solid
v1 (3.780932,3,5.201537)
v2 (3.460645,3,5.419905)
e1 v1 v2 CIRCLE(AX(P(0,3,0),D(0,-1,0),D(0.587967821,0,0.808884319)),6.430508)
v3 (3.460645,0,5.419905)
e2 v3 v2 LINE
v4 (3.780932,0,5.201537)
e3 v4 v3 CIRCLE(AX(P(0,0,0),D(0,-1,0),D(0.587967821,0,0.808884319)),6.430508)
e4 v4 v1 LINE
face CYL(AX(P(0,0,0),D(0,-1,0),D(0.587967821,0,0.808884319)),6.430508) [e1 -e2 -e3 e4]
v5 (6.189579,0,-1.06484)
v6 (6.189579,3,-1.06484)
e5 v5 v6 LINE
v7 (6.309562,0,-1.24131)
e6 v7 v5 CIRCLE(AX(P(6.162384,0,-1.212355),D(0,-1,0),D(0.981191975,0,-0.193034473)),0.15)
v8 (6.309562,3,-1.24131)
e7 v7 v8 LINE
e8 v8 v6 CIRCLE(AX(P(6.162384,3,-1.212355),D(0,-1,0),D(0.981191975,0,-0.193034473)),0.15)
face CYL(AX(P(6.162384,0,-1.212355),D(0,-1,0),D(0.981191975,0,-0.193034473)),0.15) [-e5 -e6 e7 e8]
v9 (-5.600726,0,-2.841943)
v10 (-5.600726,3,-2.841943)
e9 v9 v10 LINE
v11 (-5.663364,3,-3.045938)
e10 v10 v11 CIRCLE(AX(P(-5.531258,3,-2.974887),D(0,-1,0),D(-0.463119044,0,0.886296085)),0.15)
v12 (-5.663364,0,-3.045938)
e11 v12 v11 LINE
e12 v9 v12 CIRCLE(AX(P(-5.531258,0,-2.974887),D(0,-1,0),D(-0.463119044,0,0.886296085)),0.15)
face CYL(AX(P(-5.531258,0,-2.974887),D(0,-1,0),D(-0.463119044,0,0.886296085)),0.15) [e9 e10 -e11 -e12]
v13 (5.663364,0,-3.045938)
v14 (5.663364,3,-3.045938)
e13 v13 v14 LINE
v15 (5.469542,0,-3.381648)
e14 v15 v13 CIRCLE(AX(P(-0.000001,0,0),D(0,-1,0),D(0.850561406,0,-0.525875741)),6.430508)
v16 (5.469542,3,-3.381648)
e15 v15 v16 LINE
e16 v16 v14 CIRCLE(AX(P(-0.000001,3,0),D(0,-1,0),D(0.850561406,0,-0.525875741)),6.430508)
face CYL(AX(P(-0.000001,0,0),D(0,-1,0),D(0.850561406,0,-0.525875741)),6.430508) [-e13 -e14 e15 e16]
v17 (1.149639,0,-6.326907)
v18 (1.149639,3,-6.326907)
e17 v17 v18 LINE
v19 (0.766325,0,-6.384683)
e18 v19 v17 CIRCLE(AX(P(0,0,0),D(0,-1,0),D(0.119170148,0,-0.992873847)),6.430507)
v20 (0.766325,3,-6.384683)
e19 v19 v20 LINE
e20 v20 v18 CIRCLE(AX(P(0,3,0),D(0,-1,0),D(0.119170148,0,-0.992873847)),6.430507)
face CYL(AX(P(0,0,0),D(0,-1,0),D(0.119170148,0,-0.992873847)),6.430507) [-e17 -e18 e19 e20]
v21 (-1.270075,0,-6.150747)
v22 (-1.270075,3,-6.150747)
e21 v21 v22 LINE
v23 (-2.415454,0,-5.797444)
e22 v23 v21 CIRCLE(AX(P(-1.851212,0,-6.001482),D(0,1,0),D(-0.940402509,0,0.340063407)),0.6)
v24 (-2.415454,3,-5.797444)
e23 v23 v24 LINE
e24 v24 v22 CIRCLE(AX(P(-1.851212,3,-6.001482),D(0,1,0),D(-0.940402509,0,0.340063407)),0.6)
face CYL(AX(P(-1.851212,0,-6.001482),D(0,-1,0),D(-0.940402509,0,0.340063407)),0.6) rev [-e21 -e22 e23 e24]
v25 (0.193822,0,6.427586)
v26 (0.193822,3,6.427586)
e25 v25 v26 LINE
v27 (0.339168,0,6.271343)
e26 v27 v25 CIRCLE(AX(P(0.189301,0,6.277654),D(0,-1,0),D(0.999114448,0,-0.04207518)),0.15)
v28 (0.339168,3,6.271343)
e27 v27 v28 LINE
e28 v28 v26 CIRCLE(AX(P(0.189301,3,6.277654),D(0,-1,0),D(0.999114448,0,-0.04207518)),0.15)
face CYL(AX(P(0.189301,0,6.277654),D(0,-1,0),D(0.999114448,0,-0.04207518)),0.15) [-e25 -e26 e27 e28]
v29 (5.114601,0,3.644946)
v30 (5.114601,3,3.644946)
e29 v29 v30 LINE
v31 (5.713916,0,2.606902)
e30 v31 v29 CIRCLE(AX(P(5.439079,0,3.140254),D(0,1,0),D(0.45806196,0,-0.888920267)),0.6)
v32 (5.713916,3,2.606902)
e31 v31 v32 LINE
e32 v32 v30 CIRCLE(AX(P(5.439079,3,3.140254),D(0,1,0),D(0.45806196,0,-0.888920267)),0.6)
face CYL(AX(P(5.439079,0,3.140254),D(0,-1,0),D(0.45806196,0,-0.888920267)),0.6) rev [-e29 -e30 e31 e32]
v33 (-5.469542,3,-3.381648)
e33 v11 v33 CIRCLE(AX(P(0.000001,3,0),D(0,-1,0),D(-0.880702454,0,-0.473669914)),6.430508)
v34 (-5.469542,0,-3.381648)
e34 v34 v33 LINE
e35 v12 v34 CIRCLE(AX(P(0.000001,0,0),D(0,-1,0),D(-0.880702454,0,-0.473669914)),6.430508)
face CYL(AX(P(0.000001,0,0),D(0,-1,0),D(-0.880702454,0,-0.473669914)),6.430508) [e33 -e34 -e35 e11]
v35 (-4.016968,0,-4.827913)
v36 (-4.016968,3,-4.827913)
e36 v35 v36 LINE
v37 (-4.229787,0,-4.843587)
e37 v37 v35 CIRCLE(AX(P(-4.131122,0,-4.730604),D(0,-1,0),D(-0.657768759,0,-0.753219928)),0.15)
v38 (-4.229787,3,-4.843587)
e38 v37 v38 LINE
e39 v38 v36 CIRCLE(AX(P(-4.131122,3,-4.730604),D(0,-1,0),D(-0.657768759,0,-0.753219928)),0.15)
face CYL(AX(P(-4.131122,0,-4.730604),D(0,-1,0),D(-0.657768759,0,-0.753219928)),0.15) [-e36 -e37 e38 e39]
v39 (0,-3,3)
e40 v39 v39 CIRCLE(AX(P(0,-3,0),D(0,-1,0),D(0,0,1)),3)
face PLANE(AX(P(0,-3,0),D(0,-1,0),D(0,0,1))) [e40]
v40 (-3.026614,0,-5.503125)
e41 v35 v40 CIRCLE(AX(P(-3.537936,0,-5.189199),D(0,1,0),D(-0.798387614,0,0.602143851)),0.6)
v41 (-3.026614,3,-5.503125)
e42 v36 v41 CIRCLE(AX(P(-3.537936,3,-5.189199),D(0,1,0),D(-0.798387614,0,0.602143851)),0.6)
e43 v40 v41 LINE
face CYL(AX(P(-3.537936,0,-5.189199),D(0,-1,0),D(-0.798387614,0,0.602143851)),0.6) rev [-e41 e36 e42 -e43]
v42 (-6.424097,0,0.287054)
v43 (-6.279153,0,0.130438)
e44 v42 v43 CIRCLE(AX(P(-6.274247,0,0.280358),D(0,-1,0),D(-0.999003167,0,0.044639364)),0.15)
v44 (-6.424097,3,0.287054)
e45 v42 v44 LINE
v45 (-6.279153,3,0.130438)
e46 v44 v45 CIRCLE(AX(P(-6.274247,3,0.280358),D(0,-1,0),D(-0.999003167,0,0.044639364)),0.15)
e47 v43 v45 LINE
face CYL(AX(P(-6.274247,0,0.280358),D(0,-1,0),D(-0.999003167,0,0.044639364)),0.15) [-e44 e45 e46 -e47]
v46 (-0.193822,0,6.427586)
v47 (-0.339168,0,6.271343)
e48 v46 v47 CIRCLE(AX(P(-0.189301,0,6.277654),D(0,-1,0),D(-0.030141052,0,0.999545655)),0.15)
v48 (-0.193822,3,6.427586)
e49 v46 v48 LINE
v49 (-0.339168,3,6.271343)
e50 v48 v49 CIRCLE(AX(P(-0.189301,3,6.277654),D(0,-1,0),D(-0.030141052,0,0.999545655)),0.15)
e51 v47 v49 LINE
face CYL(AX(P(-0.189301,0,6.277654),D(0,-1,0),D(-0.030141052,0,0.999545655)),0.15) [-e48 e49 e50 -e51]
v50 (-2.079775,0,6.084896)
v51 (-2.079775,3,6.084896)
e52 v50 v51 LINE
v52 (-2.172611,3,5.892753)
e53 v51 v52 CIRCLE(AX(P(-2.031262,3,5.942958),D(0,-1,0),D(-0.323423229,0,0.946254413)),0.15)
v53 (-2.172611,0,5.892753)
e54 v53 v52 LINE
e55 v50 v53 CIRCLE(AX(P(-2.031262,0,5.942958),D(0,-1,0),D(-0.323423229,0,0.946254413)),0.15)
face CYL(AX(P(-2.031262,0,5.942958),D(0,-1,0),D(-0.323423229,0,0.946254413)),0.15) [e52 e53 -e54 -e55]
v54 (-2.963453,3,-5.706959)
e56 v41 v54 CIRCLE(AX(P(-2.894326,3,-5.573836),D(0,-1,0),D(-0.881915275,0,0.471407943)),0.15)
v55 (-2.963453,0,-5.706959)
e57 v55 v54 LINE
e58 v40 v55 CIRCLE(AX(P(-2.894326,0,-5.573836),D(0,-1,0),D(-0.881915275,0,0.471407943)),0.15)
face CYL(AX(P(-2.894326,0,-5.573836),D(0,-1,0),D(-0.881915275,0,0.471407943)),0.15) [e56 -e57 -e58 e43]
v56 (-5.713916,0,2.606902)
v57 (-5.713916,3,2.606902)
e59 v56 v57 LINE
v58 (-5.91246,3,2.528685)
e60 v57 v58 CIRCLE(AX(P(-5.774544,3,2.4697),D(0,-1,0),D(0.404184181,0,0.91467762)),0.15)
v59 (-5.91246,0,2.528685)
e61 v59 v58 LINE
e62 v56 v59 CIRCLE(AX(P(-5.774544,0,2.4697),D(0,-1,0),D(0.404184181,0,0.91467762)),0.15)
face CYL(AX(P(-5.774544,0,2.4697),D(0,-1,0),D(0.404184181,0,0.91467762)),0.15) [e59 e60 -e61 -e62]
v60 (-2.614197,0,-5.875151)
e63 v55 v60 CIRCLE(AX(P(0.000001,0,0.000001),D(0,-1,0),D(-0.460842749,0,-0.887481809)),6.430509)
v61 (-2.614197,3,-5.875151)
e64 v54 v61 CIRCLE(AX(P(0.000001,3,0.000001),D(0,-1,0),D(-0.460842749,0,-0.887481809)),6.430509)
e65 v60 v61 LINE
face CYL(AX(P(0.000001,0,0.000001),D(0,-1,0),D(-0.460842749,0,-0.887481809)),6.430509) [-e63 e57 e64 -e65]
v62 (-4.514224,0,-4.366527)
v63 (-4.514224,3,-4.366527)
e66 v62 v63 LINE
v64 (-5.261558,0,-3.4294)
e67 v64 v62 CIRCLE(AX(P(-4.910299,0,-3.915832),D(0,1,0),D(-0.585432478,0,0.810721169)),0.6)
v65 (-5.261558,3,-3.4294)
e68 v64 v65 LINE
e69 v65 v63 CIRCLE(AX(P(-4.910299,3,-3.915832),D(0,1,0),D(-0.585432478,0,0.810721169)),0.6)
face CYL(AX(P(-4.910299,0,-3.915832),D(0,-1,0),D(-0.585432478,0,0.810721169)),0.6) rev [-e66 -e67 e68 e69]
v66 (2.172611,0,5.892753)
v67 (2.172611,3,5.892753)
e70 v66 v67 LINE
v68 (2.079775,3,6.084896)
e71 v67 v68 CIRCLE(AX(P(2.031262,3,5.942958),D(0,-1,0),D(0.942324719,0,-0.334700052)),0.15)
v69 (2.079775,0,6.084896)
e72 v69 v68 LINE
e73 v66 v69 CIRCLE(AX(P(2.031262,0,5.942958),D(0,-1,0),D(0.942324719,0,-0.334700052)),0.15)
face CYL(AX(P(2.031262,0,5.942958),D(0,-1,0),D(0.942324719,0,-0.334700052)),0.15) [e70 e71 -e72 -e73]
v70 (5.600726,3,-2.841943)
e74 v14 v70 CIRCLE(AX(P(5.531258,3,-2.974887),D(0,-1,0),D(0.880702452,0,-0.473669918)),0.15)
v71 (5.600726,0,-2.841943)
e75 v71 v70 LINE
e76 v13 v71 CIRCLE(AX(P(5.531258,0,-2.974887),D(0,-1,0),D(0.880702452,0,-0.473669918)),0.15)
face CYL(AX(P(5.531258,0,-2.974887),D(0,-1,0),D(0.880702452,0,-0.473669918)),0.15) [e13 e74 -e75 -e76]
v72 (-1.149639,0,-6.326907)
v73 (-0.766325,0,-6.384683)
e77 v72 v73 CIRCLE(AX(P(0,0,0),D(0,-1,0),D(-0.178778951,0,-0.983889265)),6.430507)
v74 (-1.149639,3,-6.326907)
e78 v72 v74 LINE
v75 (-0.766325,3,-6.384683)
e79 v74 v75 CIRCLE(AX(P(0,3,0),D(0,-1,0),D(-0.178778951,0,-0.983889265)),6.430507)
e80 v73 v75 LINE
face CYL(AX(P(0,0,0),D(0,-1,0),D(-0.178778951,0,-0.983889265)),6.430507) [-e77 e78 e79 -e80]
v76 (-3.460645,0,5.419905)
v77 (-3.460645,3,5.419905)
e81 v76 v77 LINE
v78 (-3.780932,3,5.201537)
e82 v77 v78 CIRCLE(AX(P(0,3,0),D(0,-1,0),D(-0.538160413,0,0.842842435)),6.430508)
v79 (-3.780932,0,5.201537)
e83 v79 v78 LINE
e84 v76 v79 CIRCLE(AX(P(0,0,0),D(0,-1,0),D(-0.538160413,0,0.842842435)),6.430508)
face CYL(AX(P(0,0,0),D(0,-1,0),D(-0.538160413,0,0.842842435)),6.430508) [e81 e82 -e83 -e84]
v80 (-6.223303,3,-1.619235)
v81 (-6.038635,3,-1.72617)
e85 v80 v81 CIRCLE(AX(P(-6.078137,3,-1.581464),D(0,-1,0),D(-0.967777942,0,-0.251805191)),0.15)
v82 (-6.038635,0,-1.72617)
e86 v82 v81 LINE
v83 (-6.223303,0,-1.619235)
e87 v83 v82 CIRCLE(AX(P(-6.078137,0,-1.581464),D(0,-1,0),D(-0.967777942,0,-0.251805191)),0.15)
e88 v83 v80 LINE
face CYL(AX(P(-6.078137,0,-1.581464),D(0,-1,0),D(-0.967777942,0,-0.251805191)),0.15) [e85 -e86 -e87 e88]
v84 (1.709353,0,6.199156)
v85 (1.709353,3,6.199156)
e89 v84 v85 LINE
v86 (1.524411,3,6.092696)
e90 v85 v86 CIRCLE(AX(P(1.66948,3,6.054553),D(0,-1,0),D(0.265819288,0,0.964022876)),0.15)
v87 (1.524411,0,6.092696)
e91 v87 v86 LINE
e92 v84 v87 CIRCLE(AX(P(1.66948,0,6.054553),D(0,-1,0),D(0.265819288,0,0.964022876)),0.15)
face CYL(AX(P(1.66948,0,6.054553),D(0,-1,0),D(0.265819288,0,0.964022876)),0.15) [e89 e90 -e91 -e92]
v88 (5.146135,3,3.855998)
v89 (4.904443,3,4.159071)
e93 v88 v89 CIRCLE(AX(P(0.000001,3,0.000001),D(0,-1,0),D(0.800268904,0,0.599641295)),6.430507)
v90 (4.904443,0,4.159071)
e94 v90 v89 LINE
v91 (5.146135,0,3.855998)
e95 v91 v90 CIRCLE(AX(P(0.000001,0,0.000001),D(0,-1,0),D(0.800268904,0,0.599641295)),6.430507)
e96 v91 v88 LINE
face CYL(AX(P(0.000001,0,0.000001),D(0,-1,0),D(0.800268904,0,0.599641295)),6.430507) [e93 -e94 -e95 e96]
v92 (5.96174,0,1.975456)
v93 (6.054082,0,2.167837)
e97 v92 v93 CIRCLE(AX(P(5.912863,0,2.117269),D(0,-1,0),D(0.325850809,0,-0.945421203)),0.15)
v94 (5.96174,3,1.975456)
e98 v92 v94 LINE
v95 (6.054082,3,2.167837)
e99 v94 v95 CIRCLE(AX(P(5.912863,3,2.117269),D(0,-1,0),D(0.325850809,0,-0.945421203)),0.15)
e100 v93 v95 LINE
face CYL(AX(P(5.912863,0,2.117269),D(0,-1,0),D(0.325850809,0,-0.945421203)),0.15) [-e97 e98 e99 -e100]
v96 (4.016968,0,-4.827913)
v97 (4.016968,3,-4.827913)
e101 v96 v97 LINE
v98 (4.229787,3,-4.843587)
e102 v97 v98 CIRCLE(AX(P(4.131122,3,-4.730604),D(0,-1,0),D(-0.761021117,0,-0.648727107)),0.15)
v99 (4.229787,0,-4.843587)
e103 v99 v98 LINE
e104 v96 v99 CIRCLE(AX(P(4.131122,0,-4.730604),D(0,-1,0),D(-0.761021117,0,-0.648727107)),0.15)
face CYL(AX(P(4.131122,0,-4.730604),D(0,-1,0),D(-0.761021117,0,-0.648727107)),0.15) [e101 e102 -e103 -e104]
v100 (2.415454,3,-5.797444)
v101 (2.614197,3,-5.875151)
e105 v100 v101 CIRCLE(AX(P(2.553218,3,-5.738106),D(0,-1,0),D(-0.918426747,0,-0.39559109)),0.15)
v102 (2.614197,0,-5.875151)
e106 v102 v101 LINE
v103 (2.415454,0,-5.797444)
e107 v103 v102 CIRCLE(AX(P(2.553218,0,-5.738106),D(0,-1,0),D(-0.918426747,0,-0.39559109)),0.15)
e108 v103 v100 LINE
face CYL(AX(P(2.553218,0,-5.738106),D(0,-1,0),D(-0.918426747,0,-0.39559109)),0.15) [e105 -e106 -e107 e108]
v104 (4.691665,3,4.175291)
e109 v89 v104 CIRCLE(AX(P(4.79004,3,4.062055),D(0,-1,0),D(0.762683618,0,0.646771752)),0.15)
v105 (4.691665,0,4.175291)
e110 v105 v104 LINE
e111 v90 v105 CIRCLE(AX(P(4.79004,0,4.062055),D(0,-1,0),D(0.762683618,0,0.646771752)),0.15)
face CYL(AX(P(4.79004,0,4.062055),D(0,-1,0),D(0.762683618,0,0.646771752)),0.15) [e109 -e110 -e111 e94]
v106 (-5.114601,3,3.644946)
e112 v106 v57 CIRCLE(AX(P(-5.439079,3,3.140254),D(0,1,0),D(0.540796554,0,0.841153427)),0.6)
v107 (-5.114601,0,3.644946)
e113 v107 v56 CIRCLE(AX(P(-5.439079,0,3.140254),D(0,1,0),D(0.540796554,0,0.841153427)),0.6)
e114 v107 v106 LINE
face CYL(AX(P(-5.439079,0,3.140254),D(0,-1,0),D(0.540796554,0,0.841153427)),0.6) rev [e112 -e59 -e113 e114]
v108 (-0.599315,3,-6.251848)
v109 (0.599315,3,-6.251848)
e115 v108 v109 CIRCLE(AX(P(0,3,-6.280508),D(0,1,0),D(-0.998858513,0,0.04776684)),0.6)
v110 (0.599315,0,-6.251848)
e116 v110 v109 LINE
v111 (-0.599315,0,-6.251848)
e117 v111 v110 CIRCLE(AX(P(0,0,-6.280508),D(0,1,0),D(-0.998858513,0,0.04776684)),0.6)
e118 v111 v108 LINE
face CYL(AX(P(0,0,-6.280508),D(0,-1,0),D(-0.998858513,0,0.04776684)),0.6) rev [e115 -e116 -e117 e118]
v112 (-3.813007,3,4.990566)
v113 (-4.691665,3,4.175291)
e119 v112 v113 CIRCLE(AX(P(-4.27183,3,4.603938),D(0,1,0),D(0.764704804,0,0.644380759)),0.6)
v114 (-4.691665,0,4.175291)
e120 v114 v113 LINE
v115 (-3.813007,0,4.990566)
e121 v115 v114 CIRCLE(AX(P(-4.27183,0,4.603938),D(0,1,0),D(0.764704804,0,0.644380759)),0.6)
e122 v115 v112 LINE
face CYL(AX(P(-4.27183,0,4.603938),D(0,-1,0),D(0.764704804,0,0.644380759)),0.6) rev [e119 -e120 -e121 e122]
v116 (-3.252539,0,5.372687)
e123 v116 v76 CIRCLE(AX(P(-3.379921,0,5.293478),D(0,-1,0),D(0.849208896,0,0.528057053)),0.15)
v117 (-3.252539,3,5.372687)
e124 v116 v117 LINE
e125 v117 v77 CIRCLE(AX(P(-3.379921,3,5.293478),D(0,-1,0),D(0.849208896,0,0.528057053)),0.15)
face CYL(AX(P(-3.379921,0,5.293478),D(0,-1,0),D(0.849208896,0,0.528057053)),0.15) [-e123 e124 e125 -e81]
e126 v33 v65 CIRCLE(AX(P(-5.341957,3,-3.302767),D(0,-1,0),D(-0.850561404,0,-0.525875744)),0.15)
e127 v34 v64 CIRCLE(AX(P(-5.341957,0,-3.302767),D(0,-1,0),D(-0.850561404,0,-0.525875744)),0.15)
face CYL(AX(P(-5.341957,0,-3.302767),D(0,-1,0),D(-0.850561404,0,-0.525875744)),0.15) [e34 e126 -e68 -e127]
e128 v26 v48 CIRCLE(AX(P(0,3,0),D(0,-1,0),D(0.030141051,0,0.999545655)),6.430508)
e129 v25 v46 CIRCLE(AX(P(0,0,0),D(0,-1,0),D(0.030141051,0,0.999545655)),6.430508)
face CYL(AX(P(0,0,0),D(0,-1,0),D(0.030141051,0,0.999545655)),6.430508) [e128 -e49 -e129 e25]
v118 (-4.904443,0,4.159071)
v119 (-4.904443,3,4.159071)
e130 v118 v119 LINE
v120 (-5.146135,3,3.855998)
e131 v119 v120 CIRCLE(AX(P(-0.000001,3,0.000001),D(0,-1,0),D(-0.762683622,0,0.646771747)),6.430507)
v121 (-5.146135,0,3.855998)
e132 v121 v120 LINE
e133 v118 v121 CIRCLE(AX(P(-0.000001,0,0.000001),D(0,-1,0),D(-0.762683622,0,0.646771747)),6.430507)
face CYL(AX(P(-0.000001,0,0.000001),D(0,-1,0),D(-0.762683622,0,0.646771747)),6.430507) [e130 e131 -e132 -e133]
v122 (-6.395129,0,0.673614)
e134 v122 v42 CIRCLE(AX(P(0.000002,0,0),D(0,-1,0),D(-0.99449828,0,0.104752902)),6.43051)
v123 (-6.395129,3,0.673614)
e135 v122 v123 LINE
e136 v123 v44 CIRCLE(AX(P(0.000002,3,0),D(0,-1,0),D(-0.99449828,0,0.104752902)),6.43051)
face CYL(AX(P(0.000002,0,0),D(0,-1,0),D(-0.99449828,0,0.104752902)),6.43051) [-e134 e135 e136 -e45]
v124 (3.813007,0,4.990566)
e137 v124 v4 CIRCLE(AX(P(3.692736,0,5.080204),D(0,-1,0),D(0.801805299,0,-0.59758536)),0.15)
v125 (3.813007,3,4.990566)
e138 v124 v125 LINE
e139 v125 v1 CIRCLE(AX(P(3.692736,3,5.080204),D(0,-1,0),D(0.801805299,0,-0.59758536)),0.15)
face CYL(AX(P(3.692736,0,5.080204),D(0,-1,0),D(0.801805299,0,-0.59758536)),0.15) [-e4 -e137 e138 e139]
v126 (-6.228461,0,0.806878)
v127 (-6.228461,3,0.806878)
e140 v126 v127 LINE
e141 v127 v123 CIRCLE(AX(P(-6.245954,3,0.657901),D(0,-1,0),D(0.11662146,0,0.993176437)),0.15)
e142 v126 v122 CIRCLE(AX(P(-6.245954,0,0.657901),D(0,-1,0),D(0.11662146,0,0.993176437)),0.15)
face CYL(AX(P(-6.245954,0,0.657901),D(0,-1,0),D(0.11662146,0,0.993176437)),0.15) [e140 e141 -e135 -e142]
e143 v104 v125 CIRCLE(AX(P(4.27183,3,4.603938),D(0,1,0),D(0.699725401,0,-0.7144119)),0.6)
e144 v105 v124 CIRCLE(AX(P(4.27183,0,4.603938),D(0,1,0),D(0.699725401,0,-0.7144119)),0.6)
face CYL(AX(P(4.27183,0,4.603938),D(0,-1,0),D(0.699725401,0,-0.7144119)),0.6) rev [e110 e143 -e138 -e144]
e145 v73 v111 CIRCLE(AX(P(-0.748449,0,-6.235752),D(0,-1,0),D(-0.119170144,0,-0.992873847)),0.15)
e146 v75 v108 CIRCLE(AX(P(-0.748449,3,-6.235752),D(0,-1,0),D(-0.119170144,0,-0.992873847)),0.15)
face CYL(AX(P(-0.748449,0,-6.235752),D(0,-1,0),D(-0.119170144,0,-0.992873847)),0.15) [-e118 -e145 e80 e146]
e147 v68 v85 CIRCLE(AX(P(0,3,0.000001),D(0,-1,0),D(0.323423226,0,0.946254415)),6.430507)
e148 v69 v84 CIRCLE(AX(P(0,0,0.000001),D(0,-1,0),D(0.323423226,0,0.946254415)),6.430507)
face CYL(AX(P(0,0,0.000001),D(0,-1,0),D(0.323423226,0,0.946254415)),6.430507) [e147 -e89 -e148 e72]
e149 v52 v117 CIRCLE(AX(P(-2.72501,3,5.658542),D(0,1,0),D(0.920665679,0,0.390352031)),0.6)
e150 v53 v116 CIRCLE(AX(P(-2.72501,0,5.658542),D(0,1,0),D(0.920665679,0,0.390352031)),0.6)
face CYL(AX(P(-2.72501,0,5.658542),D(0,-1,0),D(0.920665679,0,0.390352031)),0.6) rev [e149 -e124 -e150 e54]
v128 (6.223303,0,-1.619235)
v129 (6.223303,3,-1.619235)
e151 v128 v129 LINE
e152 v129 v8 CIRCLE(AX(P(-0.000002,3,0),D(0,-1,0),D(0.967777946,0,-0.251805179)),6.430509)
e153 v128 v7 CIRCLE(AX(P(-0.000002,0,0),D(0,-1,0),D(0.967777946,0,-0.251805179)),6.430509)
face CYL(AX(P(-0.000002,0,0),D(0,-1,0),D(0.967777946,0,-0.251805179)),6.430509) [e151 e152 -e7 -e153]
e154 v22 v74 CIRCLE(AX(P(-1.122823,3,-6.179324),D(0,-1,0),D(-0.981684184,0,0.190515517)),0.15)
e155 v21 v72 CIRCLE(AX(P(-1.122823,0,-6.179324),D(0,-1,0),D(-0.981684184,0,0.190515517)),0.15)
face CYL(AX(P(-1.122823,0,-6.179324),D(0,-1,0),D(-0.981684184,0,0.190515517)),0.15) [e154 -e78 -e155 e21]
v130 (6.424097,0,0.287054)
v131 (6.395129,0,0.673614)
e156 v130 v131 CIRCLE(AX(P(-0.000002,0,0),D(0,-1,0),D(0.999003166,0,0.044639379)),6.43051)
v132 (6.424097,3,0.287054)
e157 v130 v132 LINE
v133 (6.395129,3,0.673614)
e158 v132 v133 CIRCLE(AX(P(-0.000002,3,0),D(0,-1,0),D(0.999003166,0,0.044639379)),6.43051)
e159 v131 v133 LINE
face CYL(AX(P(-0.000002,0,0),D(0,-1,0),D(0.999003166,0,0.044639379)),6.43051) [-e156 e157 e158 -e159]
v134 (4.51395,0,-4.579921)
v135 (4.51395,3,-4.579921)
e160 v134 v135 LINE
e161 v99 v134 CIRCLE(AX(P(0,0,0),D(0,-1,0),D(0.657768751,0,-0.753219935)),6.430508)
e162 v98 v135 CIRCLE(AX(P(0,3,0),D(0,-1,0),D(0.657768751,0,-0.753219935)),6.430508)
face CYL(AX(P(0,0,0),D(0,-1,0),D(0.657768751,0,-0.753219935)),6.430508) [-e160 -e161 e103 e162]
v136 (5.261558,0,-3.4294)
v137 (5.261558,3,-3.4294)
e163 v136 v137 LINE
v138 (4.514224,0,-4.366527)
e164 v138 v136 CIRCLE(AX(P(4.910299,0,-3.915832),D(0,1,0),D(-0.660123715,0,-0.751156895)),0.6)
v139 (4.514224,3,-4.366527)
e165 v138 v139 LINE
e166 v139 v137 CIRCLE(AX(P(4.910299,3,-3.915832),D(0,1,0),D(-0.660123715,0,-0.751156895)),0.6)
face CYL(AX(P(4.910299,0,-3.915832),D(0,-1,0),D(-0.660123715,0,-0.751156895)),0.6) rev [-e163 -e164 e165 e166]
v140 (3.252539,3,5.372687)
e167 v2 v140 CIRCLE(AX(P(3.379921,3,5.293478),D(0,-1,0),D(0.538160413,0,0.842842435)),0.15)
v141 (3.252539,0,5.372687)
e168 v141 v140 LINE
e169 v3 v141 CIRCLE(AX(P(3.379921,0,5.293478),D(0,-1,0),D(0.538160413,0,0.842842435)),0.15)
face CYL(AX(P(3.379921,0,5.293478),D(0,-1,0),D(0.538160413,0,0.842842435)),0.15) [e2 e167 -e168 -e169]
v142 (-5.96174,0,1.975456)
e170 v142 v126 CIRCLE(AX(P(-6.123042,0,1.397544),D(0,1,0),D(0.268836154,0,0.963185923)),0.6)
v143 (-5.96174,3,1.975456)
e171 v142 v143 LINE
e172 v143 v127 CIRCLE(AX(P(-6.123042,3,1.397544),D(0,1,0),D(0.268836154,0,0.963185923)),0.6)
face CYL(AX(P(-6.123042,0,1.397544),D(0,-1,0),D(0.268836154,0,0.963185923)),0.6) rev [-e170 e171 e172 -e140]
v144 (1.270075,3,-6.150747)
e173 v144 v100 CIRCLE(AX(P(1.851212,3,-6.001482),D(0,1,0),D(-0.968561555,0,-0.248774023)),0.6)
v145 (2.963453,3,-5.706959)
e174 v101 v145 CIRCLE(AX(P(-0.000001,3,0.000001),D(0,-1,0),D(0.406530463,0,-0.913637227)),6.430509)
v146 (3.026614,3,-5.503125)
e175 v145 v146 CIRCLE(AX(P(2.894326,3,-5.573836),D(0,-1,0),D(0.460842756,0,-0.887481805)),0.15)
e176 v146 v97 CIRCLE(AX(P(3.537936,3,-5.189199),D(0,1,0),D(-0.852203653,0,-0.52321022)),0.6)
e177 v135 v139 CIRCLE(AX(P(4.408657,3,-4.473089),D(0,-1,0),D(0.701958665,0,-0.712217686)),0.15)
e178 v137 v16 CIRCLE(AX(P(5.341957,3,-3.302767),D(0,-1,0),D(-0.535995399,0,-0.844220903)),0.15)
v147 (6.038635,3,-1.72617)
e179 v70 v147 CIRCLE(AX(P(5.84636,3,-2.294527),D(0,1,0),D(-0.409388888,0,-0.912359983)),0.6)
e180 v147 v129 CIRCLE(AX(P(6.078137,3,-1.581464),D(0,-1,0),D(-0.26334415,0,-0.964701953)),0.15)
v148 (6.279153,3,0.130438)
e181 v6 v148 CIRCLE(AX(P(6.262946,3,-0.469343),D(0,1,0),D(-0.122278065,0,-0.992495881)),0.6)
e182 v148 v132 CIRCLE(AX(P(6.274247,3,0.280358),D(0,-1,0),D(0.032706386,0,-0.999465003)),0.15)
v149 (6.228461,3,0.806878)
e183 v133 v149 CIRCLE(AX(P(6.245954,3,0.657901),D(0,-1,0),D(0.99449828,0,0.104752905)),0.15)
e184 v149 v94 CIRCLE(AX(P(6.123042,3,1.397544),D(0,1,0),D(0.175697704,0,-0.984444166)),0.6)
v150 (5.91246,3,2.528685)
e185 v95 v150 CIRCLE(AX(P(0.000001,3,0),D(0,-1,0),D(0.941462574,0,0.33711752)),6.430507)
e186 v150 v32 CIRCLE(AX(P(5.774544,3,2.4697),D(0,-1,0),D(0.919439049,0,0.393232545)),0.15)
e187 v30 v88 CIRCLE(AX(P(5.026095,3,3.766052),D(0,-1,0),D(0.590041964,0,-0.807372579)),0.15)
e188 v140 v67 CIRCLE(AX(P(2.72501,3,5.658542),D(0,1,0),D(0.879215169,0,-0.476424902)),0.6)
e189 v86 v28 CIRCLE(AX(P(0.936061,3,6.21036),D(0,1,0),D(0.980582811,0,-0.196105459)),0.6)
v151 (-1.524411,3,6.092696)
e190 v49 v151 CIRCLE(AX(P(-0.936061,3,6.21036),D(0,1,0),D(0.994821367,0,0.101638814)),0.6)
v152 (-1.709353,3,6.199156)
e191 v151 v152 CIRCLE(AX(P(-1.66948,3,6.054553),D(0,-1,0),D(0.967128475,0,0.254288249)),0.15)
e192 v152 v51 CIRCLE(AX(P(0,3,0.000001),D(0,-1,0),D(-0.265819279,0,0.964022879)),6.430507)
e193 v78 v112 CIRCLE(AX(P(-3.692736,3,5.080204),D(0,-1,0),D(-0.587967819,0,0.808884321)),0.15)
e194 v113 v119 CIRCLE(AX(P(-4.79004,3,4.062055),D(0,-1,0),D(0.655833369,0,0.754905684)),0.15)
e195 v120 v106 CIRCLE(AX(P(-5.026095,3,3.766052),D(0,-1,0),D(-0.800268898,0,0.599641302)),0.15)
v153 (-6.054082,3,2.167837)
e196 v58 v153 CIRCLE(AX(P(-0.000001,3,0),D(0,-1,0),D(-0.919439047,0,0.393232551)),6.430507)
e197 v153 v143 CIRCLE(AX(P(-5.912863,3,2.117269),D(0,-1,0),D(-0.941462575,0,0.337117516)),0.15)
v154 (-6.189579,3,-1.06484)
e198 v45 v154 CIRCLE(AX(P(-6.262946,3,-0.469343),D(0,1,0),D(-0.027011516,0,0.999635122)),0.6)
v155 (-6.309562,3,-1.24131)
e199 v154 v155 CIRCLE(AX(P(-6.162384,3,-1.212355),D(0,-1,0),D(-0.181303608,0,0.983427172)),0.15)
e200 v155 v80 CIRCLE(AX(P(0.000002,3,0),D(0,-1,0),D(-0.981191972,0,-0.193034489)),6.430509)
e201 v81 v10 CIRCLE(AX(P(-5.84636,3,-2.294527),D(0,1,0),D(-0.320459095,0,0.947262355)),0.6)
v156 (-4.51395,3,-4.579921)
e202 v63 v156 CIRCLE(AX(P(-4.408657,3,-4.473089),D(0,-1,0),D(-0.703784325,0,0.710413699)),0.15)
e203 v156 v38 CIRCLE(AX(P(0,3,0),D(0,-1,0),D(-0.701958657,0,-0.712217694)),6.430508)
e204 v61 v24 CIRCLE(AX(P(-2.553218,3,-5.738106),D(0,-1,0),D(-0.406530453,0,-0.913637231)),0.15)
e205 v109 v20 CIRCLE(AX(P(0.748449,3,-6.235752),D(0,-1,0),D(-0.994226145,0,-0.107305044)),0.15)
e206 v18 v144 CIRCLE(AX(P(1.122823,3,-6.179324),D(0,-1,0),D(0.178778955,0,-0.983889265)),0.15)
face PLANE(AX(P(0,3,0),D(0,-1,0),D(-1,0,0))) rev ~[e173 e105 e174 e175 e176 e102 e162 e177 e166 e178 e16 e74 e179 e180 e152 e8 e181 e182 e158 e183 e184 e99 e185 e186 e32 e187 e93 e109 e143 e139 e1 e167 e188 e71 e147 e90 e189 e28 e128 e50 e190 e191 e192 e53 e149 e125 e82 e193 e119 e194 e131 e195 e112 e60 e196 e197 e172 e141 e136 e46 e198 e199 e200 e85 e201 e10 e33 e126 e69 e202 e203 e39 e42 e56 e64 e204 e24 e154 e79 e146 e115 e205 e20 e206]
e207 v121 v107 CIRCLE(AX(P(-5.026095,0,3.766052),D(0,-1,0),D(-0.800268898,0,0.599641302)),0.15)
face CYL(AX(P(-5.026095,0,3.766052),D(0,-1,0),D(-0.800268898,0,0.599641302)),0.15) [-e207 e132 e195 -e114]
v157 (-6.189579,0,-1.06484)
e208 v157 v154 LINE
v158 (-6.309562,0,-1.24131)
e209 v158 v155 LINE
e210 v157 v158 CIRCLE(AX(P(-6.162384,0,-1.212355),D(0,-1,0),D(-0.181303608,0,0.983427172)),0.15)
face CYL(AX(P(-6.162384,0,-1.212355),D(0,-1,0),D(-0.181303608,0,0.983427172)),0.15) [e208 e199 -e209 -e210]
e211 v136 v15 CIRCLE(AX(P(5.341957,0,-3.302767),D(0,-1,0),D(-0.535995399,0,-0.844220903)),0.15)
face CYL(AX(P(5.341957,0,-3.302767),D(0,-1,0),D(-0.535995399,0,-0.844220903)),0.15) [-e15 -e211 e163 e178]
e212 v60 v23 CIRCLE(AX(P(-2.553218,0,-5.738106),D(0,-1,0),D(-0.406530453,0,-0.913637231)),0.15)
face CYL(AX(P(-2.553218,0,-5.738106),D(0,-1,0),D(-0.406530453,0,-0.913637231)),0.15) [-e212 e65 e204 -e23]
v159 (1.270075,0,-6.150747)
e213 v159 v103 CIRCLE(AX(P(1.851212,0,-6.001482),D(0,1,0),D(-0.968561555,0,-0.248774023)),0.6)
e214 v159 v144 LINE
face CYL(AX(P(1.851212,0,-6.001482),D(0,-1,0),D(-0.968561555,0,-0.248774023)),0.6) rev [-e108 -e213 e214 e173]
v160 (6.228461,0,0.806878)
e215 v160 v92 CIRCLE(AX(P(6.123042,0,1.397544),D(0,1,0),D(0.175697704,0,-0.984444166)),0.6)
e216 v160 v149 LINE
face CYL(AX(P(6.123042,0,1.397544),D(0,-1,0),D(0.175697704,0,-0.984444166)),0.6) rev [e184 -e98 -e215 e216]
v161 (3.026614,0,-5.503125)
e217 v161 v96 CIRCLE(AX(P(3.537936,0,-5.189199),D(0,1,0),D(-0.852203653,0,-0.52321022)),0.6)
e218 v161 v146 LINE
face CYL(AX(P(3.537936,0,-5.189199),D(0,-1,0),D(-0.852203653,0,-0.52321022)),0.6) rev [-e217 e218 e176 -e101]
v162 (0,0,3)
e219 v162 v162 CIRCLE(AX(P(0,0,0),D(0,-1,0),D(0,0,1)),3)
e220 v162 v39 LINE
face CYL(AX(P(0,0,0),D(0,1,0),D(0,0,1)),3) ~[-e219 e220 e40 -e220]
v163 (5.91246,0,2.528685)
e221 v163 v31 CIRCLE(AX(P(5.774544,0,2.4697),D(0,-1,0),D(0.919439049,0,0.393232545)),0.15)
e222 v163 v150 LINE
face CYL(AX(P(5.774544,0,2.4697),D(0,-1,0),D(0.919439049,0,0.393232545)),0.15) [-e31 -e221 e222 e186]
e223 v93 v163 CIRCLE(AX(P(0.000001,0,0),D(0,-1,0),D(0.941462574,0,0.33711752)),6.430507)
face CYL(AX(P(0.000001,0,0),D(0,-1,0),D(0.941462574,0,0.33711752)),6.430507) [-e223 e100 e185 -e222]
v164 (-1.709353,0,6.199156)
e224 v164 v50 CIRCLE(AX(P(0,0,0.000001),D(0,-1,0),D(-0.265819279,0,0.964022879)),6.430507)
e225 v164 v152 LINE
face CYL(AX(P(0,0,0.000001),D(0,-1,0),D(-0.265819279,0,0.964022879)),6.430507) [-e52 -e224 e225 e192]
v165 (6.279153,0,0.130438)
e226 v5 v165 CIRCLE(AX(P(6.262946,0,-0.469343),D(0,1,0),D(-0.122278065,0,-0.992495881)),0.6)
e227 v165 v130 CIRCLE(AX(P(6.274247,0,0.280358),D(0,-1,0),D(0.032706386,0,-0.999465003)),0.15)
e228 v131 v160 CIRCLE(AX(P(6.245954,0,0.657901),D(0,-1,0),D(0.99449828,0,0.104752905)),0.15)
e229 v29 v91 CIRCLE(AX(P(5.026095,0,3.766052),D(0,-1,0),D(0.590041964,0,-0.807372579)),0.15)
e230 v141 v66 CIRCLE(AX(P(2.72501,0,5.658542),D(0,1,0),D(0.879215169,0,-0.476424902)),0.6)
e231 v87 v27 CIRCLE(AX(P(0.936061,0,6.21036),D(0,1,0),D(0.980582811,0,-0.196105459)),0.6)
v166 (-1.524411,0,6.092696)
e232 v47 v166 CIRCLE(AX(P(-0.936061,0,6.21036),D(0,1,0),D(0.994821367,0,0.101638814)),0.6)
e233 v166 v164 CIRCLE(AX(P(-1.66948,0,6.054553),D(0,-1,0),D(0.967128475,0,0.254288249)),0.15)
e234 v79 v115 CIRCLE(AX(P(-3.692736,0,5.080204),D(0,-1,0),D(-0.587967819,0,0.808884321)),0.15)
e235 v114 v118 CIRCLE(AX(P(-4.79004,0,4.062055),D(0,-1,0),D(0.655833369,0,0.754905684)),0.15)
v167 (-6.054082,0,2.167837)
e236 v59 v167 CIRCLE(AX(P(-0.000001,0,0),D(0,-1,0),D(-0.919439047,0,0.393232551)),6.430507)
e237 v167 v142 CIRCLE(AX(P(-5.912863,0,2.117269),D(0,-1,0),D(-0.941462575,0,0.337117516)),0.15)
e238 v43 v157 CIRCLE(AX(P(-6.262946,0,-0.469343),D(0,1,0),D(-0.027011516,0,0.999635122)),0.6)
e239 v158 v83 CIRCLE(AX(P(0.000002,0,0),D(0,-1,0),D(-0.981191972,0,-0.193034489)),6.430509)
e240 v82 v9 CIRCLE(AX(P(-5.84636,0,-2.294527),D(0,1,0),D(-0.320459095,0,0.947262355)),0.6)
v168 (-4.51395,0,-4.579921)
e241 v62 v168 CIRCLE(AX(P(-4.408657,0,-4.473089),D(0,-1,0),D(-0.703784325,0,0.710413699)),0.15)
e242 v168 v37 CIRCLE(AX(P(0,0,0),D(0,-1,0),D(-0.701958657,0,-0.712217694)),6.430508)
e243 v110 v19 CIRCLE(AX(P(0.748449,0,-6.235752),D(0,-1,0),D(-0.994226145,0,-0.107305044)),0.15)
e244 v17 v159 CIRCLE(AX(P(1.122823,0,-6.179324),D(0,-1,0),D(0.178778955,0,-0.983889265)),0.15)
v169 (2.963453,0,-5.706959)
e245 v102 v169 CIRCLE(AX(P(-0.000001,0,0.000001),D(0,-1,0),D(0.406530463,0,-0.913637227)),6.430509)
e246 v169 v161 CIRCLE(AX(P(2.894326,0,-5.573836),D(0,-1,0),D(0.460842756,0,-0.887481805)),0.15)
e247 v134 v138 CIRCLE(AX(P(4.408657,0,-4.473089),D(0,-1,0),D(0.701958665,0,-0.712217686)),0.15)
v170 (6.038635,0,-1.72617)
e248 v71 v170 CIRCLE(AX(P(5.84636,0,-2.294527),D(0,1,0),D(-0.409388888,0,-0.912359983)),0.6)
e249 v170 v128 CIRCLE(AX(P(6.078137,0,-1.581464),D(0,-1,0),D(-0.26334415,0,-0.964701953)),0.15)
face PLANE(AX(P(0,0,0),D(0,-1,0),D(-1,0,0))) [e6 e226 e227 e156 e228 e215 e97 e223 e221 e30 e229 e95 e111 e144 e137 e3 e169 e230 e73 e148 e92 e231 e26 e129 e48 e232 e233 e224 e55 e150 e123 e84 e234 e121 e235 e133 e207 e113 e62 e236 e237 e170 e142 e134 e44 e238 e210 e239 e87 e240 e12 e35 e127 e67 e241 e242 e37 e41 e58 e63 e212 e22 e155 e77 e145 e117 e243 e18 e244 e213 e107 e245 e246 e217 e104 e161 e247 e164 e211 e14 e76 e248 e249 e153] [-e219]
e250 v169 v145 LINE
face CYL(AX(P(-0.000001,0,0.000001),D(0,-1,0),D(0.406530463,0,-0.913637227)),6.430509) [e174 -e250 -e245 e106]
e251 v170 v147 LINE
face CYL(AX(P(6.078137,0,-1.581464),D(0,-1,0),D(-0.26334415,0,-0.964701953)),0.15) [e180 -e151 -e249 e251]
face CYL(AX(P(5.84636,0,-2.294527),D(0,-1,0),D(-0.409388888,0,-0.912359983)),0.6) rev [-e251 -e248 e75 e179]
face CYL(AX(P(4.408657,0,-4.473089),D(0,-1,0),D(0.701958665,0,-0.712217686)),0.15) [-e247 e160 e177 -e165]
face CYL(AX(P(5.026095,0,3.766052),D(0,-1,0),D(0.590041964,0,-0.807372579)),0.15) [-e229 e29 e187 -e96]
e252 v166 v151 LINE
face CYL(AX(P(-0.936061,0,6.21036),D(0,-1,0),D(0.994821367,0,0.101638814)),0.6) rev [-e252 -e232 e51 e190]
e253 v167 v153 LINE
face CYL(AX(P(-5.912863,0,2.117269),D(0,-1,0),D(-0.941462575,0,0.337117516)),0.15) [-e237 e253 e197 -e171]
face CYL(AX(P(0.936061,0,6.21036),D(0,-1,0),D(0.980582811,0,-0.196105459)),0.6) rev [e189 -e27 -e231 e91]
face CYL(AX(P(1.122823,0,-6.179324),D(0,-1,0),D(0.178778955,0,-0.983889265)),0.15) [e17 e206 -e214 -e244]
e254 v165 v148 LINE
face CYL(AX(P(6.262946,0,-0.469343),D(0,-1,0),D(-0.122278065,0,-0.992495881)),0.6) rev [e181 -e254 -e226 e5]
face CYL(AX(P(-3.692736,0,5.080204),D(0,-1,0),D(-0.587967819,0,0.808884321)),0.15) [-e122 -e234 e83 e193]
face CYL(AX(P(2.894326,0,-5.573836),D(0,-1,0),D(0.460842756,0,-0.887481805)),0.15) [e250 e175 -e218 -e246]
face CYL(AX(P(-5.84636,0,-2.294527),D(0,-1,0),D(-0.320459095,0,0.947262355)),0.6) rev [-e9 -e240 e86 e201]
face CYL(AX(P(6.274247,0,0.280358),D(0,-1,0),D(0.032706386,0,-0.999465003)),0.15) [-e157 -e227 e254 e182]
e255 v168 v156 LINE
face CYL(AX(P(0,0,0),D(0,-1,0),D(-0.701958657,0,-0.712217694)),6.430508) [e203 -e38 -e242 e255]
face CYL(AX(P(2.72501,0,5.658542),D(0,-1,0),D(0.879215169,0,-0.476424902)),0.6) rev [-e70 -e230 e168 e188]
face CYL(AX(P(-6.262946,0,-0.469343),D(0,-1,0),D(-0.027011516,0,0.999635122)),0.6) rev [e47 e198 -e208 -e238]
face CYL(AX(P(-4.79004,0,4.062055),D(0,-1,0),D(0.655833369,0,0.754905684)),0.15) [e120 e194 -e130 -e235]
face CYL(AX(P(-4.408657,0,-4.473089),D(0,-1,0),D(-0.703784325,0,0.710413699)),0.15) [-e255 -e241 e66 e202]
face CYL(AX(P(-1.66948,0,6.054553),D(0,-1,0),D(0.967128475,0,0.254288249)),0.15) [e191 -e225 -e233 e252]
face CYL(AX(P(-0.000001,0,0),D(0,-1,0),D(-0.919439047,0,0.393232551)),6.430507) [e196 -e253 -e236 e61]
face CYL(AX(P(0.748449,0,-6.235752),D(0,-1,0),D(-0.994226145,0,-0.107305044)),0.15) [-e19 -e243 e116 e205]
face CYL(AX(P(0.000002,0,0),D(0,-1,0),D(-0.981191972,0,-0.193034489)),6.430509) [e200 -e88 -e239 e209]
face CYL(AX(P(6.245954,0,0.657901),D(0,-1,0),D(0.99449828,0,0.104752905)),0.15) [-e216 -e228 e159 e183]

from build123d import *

# Parameters (mm, degrees)
BOSS_EXTRUDE1_DEPTH = 3
SKETCH2_R           = 3
BOSS_EXTRUDE2_DEPTH = 3


with BuildPart() as part:
    # Sketch1 → Boss-Extrude1 (new body)
    with BuildSketch(Plane(origin=(0, 0, 0), x_dir=(1, 0, 0), z_dir=(0, 1, 0))):
        with BuildLine():
            ThreePointArc((0.599315108, 6.251847506), (0.655076135, 6.353146394), (0.766324552, 6.384682827))
            ThreePointArc((0.766324552, 6.384682827), (0.958417427, 6.358684153), (1.149639398, 6.32690741))
            ThreePointArc((1.149639398, 6.32690741), (1.246649833, 6.263981006), (1.270075183, 6.150746692))
            ThreePointArc((1.270075183, 6.150746692), (1.674359011, 5.428138595), (2.415453621, 5.797444234))
            ThreePointArc((2.415453621, 5.797444234), (2.498595714, 5.877806845), (2.614197203, 5.875151156))
            ThreePointArc((2.614197203, 5.875151156), (2.790092686, 5.793687161), (2.963452842, 5.706958505))
            ThreePointArc((2.963452842, 5.706958505), (3.037605493, 5.618233416), (3.02661372, 5.503125042))
            ThreePointArc((3.02661372, 5.503125042), (3.199943877, 4.693455645), (4.01696848, 4.827912599))
            ThreePointArc((4.01696848, 4.827912599), (4.120104099, 4.880198364), (4.229786959, 4.843586522))
            ThreePointArc((4.229786959, 4.843586522), (4.373855966, 4.71389564), (4.513950497, 4.579921291))
            ThreePointArc((4.513950497, 4.579921291), (4.558656574, 4.473281132), (4.514224346, 4.366526582))
            ThreePointArc((4.514224346, 4.366526582), (4.441199686, 3.541738564), (5.261558062, 3.429399744))
            ThreePointArc((5.261558062, 3.429399744), (5.375523153, 3.448962841), (5.469541583, 3.38164797))
            ThreePointArc((5.469541583, 3.38164797), (5.568982949, 3.215253805), (5.66336384, 3.045937973))
            ThreePointArc((5.66336384, 3.045937973), (5.674651014, 2.930858189), (5.600726329, 2.841943073))
            ThreePointArc((5.600726329, 2.841943073), (5.287835413, 2.075322469), (6.038635119, 1.726169671))
            ThreePointArc((6.038635119, 1.726169671), (6.153303386, 1.711271834), (6.223303434, 1.619235156))
            ThreePointArc((6.223303434, 1.619235156), (6.269281358, 1.430922559), (6.309562454, 1.241309698))
            ThreePointArc((6.309562454, 1.241309698), (6.286427808, 1.128015634), (6.189579198, 1.06484045))
            ThreePointArc((6.189579198, 1.06484045), (5.664623759, 0.424504865), (6.279152947, -0.130438152))
            ThreePointArc((6.279152947, -0.130438152), (6.384335609, -0.178473184), (6.424097465, -0.287053808))
            ThreePointArc((6.424097465, -0.287053808), (6.412526606, -0.480552436), (6.395128754, -0.67361439))
            ThreePointArc((6.395128754, -0.67361439), (6.339627904, -0.775056061), (6.228460794, -0.806877919))
            ThreePointArc((6.228460794, -0.806877919), (5.538085424, -1.264031859), (5.961740479, -1.975455973))
            ThreePointArc((5.961740479, -1.975455973), (6.048091597, -2.052360078), (6.054082244, -2.167836781))
            ThreePointArc((6.054082244, -2.167836781), (5.985990725, -2.349328237), (5.912459799, -2.528684884))
            ThreePointArc((5.912459799, -2.528684884), (5.829524239, -2.609260623), (5.713916315, -2.606901645))
            ThreePointArc((5.713916315, -2.606901645), (4.919463897, -2.840253805), (5.114601207, -3.644945861))
            ThreePointArc((5.114601207, -3.644945861), (5.174448104, -3.743885771), (5.146135247, -3.855997943))
            ThreePointArc((5.146135247, -3.855997943), (5.027573298, -4.009355916), (4.904442846, -4.159070629))
            ThreePointArc((4.904442846, -4.159070629), (4.801441763, -4.211620928), (4.691665296, -4.175290719))
            ThreePointArc((4.691665296, -4.175290719), (3.863726413, -4.164106736), (3.813007173, -4.990566314))
            ThreePointArc((3.813007173, -4.990566314), (3.84103219, -5.102750785), (3.780931551, -5.201536766))
            ThreePointArc((3.780931551, -5.201536766), (3.62243392, -5.313134726), (3.460644622, -5.419904697))
            ThreePointArc((3.460644622, -5.419904697), (3.346730116, -5.439760232), (3.252539227, -5.37268689))
            ThreePointArc((3.252539227, -5.37268689), (2.464679882, -5.11796051), (2.172610718, -5.89275305))
            ThreePointArc((2.172610718, -5.89275305), (2.166323709, -6.008213997), (2.079775494, -6.084896221))
            ThreePointArc((2.079775494, -6.084896221), (1.895425392, -6.1448182), (1.709352937, -6.199156447))
            ThreePointArc((1.709352937, -6.199156447), (1.594646812, -6.184552967), (1.524410773, -6.092696253))
            ThreePointArc((1.524410773, -6.092696253), (0.846635727, -5.617061033), (0.339168267, -6.271342817))
            ThreePointArc((0.339168267, -6.271342817), (0.29912786, -6.37982103), (0.193822257, -6.427585943))
            ThreePointArc((0.193822257, -6.427585943), (0, -6.43050761), (-0.193822257, -6.427585943))
            ThreePointArc((-0.193822257, -6.427585943), (-0.29912786, -6.37982103), (-0.339168267, -6.271342817))
            ThreePointArc((-0.339168267, -6.271342817), (-0.846635727, -5.617061033), (-1.524410773, -6.092696253))
            ThreePointArc((-1.524410773, -6.092696253), (-1.594646812, -6.184552967), (-1.709352937, -6.199156447))
            ThreePointArc((-1.709352937, -6.199156447), (-1.895425392, -6.1448182), (-2.079775494, -6.084896221))
            ThreePointArc((-2.079775494, -6.084896221), (-2.166323709, -6.008213997), (-2.172610718, -5.89275305))
            ThreePointArc((-2.172610718, -5.89275305), (-2.464679882, -5.11796051), (-3.252539227, -5.37268689))
            ThreePointArc((-3.252539227, -5.37268689), (-3.346730116, -5.439760232), (-3.460644622, -5.419904697))
            ThreePointArc((-3.460644622, -5.419904697), (-3.62243392, -5.313134726), (-3.780931551, -5.201536766))
            ThreePointArc((-3.780931551, -5.201536766), (-3.84103219, -5.102750785), (-3.813007173, -4.990566314))
            ThreePointArc((-3.813007173, -4.990566314), (-3.863726413, -4.164106736), (-4.691665296, -4.175290719))
            ThreePointArc((-4.691665296, -4.175290719), (-4.801441763, -4.211620928), (-4.904442846, -4.159070629))
            ThreePointArc((-4.904442846, -4.159070629), (-5.027573298, -4.009355916), (-5.146135247, -3.855997943))
            ThreePointArc((-5.146135247, -3.855997943), (-5.174448104, -3.743885771), (-5.114601207, -3.644945861))
            ThreePointArc((-5.114601207, -3.644945861), (-4.919463897, -2.840253805), (-5.713916315, -2.606901645))
            ThreePointArc((-5.713916315, -2.606901645), (-5.829524239, -2.609260623), (-5.912459799, -2.528684884))
            ThreePointArc((-5.912459799, -2.528684884), (-5.985990725, -2.349328237), (-6.054082244, -2.167836781))
            ThreePointArc((-6.054082244, -2.167836781), (-6.048091597, -2.052360078), (-5.961740479, -1.975455973))
            ThreePointArc((-5.961740479, -1.975455973), (-5.538085424, -1.264031859), (-6.228460794, -0.806877919))
            ThreePointArc((-6.228460794, -0.806877919), (-6.339627904, -0.775056061), (-6.395128754, -0.67361439))
            ThreePointArc((-6.395128754, -0.67361439), (-6.412526606, -0.480552436), (-6.424097465, -0.287053808))
            ThreePointArc((-6.424097465, -0.287053808), (-6.384335609, -0.178473184), (-6.279152947, -0.130438152))
            ThreePointArc((-6.279152947, -0.130438152), (-5.664623759, 0.424504865), (-6.189579198, 1.06484045))
            ThreePointArc((-6.189579198, 1.06484045), (-6.286427808, 1.128015634), (-6.309562454, 1.241309698))
            ThreePointArc((-6.309562454, 1.241309698), (-6.269281358, 1.430922559), (-6.223303434, 1.619235156))
            ThreePointArc((-6.223303434, 1.619235156), (-6.153303386, 1.711271834), (-6.038635119, 1.726169671))
            ThreePointArc((-6.038635119, 1.726169671), (-5.287835413, 2.075322469), (-5.600726329, 2.841943073))
            ThreePointArc((-5.600726329, 2.841943073), (-5.674651014, 2.930858189), (-5.66336384, 3.045937973))
            ThreePointArc((-5.66336384, 3.045937973), (-5.568982949, 3.215253805), (-5.469541583, 3.38164797))
            ThreePointArc((-5.469541583, 3.38164797), (-5.375523153, 3.448962841), (-5.261558062, 3.429399744))
            ThreePointArc((-5.261558062, 3.429399744), (-4.441199686, 3.541738564), (-4.514224346, 4.366526582))
            ThreePointArc((-4.514224346, 4.366526582), (-4.558656574, 4.473281132), (-4.513950497, 4.579921291))
            ThreePointArc((-4.513950497, 4.579921291), (-4.373855966, 4.71389564), (-4.229786959, 4.843586522))
            ThreePointArc((-4.229786959, 4.843586522), (-4.120104099, 4.880198364), (-4.01696848, 4.827912599))
            ThreePointArc((-4.01696848, 4.827912599), (-3.199943877, 4.693455645), (-3.02661372, 5.503125042))
            ThreePointArc((-3.02661372, 5.503125042), (-3.037605493, 5.618233416), (-2.963452842, 5.706958505))
            ThreePointArc((-2.963452842, 5.706958505), (-2.790092686, 5.793687161), (-2.614197203, 5.875151156))
            ThreePointArc((-2.614197203, 5.875151156), (-2.498595714, 5.877806845), (-2.415453621, 5.797444234))
            ThreePointArc((-2.415453621, 5.797444234), (-1.674359011, 5.428138595), (-1.270075183, 6.150746692))
            ThreePointArc((-1.270075183, 6.150746692), (-1.246649833, 6.263981006), (-1.149639398, 6.32690741))
            ThreePointArc((-1.149639398, 6.32690741), (-0.958417427, 6.358684153), (-0.766324552, 6.384682827))
            ThreePointArc((-0.766324552, 6.384682827), (-0.655076135, 6.353146394), (-0.599315108, 6.251847506))
            ThreePointArc((-0.599315108, 6.251847506), (0, 5.68050761), (0.599315108, 6.251847506))
        make_face()
    extrude(amount=BOSS_EXTRUDE1_DEPTH)

    # Sketch2 → Boss-Extrude2 (add)
    with BuildSketch(Plane(origin=(0, 0, 0), x_dir=(-1, 0, 0), z_dir=(0, -1, 0))):
        with Locations(Location((0, 0, 0), (0, 0, 270))):
            Circle(SKETCH2_R)
    extrude(amount=BOSS_EXTRUDE2_DEPTH)


solid = part.part
